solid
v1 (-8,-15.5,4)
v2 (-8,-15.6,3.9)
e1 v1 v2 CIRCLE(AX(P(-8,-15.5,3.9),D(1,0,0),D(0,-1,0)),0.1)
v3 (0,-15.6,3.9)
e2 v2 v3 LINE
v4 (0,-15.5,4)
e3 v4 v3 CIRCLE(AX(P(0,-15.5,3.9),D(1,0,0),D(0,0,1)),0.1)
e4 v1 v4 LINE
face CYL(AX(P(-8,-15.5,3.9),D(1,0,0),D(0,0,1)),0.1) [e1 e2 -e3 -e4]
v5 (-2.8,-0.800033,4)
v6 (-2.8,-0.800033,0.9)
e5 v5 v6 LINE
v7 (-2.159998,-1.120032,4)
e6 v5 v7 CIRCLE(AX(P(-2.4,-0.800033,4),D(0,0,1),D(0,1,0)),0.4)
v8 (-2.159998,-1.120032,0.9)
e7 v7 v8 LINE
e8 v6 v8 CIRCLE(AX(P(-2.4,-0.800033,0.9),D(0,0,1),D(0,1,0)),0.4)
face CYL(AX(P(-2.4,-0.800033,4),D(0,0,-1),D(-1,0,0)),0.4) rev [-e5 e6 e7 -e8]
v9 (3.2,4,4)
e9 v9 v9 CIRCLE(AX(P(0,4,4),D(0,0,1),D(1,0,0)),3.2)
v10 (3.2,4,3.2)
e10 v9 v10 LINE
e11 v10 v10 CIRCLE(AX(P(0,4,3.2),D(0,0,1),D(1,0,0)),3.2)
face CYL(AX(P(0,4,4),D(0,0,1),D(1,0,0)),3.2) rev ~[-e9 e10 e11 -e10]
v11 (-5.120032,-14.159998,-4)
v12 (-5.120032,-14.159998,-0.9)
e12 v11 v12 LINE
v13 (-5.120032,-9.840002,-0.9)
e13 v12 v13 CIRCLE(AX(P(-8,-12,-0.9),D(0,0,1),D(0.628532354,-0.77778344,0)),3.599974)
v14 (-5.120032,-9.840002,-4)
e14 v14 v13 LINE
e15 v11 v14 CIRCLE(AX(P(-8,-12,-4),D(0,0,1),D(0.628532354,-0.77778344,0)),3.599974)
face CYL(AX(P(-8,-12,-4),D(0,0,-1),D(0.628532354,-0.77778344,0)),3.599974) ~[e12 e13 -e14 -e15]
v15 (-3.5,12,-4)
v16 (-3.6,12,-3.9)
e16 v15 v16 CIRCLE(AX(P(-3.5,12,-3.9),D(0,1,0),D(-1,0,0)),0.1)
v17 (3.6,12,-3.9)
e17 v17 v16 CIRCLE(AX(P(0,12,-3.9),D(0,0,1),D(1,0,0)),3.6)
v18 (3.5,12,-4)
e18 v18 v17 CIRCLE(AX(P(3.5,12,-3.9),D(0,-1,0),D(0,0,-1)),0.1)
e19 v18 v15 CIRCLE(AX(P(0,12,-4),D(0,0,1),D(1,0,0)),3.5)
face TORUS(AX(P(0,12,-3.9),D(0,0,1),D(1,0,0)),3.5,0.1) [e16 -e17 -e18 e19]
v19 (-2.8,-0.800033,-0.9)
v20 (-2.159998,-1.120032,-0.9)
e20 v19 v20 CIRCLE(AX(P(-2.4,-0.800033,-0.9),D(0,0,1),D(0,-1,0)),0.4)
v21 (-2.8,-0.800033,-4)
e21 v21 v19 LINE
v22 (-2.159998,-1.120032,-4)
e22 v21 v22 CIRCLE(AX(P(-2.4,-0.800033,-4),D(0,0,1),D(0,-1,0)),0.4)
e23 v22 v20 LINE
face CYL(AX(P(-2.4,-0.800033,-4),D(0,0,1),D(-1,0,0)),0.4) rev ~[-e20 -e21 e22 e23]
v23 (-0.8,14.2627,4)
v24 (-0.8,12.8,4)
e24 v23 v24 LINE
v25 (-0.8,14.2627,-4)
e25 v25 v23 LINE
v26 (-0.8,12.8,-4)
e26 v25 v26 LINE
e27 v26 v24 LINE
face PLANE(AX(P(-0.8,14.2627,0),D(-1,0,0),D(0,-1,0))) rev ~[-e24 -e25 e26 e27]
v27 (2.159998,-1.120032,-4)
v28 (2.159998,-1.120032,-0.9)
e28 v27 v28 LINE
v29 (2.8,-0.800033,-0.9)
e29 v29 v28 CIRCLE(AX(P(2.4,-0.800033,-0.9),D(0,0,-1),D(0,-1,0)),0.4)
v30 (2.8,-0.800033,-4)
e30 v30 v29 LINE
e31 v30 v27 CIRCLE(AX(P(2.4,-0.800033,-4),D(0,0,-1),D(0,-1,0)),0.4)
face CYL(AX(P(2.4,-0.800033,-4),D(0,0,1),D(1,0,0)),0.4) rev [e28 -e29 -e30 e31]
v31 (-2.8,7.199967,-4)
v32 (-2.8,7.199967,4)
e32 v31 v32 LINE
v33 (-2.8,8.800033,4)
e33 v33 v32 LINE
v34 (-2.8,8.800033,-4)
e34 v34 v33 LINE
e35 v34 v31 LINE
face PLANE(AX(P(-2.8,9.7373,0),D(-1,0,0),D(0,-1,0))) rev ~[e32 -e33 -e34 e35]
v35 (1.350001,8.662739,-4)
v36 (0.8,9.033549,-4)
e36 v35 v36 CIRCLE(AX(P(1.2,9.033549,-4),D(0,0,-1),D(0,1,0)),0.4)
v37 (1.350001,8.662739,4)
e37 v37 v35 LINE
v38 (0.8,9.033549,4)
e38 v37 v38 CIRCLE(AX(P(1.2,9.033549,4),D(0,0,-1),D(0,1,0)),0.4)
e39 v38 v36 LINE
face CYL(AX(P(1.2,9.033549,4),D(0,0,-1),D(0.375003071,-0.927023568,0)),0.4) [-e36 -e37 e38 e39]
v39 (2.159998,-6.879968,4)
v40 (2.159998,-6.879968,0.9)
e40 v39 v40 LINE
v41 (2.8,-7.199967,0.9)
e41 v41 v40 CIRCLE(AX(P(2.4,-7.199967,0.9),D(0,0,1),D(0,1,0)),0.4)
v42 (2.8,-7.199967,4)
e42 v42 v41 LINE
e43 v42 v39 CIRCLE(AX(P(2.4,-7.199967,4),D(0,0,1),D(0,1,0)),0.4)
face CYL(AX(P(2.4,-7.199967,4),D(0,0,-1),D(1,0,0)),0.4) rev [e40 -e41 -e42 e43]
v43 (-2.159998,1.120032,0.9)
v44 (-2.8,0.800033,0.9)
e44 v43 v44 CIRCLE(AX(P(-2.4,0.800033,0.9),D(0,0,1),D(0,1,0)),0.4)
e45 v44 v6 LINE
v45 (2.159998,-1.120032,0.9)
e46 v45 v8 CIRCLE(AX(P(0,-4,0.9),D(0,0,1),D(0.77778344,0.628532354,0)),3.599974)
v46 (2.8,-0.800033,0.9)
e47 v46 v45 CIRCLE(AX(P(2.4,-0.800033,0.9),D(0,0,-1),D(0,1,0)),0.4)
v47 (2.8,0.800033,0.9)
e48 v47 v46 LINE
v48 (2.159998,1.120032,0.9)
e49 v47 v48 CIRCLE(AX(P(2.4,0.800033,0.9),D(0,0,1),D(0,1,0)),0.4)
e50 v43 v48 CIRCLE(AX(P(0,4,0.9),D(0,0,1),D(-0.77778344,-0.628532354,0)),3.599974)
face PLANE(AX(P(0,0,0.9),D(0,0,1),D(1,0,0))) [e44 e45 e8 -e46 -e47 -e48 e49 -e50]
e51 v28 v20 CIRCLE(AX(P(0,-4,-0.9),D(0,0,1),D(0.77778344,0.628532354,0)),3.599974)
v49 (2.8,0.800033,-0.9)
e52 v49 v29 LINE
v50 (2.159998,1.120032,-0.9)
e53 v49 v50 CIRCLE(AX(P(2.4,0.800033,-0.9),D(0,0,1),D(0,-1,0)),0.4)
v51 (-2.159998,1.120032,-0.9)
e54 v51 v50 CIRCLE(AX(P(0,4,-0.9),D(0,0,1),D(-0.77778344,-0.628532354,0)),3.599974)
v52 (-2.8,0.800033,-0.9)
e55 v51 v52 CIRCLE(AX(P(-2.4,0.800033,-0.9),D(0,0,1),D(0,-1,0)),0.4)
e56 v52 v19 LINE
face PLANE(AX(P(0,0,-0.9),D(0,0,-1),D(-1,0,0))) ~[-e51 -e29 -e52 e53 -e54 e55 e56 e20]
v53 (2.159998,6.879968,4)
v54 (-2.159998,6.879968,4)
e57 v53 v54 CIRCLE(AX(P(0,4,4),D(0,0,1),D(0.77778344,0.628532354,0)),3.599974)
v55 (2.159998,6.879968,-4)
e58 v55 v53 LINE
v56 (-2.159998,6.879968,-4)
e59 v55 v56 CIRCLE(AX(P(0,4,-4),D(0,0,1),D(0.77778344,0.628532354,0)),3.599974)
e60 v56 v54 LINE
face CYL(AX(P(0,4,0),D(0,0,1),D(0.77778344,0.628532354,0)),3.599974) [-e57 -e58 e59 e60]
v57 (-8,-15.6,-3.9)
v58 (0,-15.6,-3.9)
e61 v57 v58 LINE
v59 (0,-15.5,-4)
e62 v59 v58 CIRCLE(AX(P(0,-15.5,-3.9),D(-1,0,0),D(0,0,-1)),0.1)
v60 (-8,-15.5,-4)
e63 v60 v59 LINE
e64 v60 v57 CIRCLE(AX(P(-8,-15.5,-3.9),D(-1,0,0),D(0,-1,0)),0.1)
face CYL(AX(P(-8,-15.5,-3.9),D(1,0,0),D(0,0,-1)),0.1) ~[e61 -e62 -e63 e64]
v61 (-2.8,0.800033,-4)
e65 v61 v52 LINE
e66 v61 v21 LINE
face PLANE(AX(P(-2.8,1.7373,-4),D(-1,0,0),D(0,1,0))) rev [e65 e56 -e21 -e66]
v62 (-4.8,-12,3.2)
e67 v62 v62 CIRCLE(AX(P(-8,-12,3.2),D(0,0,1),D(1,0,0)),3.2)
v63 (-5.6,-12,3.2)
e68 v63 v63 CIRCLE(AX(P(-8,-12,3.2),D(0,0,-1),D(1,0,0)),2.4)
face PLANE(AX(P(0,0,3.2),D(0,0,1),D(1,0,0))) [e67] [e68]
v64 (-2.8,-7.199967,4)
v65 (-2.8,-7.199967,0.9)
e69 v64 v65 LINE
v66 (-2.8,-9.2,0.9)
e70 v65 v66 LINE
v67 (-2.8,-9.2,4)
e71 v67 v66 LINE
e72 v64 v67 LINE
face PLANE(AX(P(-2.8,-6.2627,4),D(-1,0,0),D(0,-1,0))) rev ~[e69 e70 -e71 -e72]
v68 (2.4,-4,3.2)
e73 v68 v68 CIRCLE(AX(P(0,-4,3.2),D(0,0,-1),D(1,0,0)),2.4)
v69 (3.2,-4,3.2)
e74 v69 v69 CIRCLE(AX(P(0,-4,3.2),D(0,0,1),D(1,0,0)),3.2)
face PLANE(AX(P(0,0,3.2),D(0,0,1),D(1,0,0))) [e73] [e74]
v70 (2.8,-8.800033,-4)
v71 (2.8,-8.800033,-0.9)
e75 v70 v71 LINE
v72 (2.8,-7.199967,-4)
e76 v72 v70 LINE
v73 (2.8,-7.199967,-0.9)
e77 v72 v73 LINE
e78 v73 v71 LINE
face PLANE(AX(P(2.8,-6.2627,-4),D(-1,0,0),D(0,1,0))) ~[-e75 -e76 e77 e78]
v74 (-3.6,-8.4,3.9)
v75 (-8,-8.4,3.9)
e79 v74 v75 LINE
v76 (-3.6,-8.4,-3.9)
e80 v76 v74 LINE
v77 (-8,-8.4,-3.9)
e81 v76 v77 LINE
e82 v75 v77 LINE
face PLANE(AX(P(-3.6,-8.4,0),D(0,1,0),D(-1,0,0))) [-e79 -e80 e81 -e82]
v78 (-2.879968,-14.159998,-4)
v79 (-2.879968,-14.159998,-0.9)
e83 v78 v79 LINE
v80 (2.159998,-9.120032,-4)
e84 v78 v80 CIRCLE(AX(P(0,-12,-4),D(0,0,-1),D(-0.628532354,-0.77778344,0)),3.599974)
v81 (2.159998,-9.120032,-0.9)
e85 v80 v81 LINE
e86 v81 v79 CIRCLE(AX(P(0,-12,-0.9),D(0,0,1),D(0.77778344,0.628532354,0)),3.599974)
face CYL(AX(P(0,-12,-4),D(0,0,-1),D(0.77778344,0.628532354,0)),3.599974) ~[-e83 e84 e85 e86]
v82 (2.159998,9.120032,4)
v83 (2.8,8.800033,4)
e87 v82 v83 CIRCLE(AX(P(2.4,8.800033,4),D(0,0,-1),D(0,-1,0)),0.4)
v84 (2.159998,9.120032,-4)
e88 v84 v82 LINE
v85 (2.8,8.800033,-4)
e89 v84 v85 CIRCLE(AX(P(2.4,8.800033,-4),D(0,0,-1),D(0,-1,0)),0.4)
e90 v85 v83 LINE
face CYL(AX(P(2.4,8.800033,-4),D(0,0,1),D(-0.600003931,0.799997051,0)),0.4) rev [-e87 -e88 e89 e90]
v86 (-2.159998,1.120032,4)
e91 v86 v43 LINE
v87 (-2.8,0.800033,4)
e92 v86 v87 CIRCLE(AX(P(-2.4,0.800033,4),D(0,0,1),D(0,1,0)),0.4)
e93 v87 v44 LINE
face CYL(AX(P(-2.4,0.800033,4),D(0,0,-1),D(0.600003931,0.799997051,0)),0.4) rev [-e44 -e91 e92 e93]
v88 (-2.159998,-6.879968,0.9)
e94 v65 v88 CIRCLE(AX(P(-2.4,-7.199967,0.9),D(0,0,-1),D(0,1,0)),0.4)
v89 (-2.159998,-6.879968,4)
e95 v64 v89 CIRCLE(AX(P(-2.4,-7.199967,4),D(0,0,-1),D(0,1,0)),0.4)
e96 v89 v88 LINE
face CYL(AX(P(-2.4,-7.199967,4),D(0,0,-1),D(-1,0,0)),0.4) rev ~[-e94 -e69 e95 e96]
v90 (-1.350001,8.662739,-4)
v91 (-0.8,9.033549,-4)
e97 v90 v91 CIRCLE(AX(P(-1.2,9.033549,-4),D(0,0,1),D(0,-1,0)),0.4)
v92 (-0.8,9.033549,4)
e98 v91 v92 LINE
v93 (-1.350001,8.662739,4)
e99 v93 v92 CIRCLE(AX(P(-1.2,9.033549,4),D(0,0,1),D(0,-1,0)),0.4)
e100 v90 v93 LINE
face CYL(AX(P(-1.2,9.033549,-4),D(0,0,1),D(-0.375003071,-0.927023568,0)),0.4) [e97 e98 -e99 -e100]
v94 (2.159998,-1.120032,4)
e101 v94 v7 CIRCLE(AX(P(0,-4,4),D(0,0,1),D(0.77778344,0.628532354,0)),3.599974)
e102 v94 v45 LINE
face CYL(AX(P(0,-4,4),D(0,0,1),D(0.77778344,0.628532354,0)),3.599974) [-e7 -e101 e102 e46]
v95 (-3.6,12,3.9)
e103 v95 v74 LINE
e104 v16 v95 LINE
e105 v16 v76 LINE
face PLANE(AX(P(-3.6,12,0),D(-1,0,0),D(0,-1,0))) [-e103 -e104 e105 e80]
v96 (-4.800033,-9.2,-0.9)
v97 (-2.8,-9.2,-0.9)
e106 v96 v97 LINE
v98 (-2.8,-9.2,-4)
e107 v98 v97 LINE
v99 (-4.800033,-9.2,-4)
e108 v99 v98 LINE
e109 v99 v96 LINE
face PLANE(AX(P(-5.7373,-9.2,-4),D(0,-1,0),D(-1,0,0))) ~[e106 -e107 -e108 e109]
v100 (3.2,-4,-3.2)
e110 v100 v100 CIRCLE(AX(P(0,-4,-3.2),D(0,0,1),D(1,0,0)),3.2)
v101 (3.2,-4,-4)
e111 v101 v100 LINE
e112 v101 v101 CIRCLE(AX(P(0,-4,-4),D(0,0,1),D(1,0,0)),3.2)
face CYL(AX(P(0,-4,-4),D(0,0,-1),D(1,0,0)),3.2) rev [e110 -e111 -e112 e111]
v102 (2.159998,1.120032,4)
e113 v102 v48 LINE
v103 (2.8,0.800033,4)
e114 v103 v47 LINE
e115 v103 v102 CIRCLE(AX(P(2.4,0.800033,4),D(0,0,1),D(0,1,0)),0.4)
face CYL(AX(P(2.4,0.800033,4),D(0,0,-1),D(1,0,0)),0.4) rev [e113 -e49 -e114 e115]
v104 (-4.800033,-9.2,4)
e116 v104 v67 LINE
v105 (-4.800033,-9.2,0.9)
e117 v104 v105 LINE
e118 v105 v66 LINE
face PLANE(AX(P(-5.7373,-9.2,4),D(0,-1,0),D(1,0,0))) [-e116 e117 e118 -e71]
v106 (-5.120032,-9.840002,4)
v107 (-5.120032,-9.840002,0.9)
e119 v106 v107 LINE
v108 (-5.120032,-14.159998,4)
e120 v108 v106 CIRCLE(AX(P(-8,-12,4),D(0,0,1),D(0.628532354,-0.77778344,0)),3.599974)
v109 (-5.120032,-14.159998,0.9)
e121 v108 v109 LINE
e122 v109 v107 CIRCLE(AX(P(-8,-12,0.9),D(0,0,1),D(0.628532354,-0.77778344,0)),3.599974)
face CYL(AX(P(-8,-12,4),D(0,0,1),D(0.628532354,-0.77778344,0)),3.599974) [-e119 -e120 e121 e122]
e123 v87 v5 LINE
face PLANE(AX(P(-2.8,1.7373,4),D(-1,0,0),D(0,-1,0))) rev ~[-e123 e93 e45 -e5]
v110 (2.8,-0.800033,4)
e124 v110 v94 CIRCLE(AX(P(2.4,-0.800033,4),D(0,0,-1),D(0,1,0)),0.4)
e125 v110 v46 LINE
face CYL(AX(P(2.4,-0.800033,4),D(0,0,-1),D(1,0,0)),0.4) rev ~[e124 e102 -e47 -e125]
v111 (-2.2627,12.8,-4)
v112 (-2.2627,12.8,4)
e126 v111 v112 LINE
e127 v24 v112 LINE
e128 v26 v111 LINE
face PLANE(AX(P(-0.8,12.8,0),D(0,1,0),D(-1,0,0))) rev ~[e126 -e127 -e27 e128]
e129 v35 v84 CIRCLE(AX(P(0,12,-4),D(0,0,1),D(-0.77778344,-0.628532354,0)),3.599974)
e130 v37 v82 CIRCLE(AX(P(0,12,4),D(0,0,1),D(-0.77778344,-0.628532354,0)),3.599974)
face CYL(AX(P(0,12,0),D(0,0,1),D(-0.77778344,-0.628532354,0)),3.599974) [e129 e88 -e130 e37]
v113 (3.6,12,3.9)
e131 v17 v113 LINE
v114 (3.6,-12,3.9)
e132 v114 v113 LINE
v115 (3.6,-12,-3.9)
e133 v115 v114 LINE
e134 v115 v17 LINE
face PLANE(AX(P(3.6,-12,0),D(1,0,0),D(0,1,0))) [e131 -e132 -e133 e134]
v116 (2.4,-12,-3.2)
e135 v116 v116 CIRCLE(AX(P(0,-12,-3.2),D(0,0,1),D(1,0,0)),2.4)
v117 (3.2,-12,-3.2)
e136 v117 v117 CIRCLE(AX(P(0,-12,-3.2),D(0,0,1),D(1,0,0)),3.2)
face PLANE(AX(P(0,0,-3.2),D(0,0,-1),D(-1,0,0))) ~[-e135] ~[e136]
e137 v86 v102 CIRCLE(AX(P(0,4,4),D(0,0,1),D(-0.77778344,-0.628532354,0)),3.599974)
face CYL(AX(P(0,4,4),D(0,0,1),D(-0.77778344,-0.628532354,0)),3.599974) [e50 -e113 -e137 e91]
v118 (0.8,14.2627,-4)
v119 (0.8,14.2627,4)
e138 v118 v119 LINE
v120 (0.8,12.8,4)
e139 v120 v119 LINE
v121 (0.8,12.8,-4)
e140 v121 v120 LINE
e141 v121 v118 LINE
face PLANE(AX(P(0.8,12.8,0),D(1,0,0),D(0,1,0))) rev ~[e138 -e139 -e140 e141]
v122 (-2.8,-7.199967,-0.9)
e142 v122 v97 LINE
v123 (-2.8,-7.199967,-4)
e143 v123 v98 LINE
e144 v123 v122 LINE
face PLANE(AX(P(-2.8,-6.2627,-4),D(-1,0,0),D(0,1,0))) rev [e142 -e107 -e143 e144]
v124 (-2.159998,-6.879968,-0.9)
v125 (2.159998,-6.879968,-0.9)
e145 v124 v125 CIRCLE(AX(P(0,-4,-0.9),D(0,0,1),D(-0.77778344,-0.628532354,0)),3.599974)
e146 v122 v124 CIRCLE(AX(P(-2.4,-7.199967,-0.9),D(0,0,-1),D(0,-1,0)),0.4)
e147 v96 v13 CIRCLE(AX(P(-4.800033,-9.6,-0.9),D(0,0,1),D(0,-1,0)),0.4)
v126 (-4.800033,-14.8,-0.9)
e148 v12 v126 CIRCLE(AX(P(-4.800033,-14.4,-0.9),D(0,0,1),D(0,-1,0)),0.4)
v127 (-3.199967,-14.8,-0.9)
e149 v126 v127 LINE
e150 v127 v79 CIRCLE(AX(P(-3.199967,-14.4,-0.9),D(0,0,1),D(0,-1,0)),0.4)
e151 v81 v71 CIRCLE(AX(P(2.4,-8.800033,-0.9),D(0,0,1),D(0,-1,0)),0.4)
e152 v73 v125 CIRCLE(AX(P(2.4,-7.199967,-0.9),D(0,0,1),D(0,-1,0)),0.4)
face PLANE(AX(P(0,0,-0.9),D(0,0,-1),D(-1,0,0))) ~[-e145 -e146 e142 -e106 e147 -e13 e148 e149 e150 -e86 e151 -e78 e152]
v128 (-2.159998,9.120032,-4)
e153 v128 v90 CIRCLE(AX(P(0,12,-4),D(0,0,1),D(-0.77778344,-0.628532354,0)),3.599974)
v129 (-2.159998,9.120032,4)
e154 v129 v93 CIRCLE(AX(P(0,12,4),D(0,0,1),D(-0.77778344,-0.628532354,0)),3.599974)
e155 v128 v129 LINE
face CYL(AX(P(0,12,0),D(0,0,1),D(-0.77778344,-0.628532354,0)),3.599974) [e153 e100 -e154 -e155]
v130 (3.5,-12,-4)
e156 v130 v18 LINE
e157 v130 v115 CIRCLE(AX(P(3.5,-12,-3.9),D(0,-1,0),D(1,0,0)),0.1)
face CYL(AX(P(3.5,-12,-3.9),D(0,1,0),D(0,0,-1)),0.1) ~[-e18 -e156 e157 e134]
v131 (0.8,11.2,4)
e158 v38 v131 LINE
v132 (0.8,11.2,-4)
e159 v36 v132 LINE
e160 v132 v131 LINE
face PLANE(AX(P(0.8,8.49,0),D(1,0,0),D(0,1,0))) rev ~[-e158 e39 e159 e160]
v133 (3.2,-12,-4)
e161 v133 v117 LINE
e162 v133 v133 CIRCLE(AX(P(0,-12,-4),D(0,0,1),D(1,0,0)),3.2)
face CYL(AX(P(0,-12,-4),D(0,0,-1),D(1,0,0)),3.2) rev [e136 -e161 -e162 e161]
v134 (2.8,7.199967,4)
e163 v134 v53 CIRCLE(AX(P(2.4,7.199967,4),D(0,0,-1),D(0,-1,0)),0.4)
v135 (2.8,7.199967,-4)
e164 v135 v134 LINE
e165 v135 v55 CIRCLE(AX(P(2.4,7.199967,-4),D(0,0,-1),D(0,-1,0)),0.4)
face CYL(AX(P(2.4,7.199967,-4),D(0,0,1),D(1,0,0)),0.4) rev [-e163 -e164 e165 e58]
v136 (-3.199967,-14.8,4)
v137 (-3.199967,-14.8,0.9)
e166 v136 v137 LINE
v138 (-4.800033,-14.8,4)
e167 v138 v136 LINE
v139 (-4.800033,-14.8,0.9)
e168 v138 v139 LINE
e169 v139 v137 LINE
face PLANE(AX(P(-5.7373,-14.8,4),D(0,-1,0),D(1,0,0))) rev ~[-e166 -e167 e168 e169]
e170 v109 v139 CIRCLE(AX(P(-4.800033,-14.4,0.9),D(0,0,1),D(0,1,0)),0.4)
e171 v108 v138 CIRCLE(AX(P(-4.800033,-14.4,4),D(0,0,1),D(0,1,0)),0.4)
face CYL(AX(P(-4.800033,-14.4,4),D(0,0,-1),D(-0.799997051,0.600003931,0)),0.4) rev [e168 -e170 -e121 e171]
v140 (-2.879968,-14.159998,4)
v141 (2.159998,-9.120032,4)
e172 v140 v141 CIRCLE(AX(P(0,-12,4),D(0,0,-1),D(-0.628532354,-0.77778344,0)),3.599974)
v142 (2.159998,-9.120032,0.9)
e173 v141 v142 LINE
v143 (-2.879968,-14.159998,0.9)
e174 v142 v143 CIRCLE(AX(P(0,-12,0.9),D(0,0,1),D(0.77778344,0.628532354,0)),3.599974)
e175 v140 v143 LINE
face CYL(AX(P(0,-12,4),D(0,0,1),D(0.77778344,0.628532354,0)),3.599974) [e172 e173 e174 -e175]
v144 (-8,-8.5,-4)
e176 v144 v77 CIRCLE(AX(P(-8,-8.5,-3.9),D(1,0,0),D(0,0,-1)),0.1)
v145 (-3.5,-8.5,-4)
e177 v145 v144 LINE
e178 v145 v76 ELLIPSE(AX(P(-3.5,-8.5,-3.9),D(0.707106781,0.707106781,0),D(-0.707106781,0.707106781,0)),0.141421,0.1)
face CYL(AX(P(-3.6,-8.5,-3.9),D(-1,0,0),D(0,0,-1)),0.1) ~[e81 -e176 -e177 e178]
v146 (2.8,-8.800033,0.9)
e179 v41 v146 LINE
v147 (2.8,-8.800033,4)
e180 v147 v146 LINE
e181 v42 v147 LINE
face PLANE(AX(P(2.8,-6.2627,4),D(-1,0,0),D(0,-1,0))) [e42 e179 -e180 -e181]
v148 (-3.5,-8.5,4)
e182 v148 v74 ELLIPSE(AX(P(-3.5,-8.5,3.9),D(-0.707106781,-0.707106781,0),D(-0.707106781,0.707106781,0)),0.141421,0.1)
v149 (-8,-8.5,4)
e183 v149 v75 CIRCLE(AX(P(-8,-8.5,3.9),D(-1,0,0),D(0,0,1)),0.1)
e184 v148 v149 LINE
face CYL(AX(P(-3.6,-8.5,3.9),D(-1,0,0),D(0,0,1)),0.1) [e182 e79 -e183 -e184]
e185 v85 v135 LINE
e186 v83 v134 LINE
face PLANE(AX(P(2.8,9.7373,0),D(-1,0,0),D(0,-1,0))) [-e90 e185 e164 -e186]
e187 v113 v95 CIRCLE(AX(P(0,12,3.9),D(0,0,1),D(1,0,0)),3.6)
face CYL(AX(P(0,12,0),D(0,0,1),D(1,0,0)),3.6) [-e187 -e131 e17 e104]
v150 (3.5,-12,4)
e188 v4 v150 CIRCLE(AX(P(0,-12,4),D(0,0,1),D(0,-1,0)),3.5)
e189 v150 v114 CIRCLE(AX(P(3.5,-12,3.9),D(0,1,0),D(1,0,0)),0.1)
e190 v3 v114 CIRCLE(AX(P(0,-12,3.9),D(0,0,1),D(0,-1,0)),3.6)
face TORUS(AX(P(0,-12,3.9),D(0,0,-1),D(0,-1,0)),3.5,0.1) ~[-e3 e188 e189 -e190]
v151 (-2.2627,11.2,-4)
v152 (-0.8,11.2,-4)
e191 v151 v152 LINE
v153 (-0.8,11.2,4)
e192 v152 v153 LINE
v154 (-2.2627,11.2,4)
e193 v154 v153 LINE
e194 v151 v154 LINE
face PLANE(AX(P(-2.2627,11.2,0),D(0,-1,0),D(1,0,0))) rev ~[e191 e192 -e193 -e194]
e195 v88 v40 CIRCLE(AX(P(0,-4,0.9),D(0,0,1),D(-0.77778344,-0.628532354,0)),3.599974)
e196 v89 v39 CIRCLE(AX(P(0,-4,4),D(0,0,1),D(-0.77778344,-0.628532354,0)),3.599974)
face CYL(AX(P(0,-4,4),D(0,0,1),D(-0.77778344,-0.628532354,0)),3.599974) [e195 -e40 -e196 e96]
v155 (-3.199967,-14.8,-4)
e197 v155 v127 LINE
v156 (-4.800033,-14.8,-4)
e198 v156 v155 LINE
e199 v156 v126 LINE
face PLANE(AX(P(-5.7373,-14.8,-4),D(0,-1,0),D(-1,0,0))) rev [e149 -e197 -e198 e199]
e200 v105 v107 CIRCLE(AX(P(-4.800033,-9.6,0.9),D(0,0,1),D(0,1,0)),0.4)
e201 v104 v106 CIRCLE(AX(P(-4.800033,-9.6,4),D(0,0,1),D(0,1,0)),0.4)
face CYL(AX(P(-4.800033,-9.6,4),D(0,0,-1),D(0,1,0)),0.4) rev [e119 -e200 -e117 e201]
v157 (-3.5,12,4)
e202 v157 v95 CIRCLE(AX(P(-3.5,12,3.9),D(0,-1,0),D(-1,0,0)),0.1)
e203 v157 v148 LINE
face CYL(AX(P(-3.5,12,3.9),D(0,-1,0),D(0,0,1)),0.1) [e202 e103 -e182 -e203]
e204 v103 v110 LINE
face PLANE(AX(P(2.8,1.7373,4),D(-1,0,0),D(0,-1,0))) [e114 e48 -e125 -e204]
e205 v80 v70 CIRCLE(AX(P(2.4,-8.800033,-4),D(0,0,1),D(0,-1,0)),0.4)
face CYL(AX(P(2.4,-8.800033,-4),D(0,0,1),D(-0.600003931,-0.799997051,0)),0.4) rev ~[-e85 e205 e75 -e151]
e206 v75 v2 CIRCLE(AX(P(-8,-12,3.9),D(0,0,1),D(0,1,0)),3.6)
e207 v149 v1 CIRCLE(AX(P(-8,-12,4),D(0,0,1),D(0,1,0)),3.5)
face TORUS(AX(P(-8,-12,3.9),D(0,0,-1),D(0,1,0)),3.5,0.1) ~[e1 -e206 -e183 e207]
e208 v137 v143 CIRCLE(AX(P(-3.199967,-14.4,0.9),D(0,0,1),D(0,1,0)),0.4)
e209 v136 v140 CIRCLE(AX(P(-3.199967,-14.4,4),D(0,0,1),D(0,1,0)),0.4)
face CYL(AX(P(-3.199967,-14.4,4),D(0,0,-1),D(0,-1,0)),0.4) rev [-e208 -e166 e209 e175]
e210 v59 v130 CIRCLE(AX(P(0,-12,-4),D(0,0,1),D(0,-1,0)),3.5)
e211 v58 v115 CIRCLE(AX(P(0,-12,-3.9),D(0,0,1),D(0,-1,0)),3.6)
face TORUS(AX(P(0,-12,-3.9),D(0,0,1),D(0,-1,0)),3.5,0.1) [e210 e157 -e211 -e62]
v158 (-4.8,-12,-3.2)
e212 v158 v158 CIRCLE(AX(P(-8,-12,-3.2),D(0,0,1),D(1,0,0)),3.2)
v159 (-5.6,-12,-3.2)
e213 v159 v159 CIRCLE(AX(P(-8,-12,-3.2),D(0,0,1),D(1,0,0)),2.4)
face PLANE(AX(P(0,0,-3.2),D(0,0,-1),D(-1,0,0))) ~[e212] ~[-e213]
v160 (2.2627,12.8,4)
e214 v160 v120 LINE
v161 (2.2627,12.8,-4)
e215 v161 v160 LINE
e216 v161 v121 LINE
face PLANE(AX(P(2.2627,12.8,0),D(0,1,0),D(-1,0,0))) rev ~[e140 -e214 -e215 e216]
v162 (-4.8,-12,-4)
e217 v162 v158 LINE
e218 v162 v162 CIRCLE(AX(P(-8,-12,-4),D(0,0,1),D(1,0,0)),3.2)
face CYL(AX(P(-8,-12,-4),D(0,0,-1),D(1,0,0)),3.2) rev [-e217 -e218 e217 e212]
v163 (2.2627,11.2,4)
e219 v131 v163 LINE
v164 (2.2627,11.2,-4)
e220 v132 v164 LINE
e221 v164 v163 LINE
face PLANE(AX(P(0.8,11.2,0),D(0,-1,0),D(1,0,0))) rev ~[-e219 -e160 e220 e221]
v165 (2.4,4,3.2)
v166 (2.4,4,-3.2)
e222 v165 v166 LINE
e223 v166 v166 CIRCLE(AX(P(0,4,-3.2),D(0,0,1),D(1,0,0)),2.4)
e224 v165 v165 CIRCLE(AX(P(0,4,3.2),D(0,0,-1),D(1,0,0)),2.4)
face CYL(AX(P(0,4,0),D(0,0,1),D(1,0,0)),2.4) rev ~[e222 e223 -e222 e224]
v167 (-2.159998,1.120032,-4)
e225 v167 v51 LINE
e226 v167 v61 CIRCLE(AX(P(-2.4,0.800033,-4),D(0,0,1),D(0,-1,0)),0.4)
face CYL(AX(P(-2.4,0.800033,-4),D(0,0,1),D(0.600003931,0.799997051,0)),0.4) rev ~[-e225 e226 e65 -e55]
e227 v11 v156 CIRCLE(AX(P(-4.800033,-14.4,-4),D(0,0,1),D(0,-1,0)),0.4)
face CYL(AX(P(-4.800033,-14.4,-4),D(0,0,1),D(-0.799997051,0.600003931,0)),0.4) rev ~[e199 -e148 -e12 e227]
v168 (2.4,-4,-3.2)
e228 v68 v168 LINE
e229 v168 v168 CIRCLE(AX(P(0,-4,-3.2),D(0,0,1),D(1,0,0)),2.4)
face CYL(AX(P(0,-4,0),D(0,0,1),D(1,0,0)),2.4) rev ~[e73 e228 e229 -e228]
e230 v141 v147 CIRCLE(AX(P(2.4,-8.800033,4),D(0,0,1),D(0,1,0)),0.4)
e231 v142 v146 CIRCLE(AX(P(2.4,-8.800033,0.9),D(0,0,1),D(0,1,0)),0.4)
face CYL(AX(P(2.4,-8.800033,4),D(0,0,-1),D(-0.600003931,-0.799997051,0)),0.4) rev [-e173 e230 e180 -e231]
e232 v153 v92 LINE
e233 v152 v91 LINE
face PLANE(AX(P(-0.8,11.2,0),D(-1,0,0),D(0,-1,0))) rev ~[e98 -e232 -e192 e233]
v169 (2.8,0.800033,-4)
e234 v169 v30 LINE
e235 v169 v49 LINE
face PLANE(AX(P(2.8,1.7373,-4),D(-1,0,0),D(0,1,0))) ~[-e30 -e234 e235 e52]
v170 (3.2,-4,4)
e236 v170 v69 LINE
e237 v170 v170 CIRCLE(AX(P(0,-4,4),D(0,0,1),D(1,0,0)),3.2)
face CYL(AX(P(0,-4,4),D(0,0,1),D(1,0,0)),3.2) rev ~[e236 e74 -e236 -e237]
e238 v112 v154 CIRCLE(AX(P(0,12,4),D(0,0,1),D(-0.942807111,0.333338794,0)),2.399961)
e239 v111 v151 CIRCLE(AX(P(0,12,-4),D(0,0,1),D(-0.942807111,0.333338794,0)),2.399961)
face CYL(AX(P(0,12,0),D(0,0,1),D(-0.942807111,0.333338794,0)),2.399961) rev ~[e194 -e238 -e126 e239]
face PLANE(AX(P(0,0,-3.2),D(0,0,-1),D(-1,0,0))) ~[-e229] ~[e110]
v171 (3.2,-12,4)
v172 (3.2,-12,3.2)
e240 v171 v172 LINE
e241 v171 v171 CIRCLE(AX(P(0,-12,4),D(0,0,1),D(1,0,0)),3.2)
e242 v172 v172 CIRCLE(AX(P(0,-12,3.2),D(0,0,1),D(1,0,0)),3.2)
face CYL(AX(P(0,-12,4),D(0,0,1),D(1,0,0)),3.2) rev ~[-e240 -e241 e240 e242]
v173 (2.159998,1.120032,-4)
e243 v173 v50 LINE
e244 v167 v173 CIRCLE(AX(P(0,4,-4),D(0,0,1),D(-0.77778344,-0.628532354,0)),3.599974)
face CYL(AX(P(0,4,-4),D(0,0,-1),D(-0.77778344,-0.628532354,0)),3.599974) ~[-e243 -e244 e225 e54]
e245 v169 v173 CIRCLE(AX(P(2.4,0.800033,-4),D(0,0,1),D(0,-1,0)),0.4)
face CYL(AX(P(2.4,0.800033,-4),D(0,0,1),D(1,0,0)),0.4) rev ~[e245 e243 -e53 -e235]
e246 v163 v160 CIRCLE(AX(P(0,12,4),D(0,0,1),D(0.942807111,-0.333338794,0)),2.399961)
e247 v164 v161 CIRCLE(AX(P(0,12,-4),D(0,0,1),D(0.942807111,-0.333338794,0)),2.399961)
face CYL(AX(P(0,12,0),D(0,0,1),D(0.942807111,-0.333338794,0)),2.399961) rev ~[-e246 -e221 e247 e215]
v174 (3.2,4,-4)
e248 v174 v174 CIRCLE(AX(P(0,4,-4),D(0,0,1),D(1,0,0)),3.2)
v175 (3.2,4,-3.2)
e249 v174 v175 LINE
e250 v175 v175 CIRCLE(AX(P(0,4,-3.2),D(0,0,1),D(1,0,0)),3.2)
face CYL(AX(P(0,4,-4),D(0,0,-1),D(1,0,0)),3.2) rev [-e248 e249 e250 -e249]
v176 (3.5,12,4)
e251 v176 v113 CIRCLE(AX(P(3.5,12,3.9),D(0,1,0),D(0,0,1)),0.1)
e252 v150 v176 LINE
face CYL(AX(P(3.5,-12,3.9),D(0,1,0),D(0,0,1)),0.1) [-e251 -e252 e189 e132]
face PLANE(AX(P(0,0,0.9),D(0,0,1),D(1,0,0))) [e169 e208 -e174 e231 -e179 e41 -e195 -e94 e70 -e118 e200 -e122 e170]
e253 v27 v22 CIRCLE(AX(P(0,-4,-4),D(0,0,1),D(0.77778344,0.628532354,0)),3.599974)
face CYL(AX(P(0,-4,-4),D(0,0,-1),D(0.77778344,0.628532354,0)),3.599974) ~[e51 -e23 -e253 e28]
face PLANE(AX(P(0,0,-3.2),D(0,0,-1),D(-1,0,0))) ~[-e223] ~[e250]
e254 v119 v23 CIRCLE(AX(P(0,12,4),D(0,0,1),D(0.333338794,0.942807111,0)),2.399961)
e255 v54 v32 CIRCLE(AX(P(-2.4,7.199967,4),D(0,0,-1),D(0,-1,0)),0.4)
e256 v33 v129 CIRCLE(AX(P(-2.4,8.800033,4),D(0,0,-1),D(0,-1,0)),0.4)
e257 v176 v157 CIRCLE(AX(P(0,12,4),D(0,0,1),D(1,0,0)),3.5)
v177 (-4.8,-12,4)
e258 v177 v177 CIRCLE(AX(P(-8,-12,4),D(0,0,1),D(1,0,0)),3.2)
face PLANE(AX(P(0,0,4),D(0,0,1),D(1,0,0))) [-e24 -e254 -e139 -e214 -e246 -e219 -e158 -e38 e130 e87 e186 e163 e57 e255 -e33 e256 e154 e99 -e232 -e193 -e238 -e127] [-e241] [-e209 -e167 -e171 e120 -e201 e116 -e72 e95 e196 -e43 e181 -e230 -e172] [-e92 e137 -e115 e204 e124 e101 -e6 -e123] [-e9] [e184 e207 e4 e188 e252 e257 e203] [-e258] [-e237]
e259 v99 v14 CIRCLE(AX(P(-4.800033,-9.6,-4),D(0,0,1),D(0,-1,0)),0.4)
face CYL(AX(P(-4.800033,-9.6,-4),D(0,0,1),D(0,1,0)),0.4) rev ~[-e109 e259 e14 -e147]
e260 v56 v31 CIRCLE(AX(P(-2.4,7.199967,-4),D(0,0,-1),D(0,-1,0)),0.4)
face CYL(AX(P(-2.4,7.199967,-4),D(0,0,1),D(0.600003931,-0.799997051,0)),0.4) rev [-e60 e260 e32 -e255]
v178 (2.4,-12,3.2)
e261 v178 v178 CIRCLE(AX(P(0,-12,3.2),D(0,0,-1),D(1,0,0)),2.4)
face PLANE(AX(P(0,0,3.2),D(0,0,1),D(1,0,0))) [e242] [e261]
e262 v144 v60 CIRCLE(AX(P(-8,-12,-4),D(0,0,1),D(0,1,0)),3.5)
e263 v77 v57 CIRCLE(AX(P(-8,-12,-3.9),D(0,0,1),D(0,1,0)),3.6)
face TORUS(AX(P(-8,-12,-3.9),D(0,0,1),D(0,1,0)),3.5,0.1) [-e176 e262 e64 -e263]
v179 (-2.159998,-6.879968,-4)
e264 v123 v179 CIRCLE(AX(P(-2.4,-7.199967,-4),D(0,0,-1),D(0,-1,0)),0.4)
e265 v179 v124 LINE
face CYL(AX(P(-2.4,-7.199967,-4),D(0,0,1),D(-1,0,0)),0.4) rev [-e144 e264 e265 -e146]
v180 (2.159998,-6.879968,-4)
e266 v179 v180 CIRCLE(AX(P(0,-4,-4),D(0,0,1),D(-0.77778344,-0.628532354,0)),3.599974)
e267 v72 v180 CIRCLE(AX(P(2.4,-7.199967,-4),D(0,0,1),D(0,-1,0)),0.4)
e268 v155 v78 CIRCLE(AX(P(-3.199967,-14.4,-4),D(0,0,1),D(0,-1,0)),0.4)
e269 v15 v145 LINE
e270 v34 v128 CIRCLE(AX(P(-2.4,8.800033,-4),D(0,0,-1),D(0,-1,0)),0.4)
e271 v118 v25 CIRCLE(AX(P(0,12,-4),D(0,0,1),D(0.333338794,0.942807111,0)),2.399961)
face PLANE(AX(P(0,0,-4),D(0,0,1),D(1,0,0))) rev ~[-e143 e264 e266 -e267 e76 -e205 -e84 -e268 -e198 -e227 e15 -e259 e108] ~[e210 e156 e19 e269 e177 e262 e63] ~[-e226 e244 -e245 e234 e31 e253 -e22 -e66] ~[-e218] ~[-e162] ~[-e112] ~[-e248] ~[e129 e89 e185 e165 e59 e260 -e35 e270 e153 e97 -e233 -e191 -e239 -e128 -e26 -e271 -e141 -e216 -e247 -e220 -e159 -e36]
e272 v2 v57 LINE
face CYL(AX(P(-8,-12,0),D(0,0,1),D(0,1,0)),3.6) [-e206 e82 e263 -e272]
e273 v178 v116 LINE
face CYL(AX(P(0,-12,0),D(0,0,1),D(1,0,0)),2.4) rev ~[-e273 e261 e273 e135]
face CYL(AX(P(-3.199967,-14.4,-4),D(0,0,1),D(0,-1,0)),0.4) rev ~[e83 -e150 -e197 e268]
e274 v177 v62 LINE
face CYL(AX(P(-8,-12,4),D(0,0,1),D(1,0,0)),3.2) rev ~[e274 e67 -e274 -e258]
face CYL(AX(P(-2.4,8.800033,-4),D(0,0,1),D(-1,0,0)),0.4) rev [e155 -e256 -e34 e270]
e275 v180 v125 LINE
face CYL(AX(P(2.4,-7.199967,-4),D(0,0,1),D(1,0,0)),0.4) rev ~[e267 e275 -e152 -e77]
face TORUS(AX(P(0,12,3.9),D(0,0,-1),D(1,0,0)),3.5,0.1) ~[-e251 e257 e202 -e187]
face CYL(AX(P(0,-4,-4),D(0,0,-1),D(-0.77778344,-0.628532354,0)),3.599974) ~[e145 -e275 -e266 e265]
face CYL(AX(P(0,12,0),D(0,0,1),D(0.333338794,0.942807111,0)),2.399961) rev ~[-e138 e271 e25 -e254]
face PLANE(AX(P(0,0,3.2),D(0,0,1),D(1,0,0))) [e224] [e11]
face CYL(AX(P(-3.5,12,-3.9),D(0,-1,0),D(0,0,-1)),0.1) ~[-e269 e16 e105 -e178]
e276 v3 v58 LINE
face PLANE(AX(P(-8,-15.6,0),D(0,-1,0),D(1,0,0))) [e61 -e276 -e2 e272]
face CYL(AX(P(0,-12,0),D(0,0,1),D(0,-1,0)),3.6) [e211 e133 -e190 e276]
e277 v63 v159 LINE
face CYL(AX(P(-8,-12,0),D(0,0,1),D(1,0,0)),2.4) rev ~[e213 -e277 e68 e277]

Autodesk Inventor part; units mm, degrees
ref_plane "YZ Plane" through (0, 0, 0) normal (1, 0, 0) x (0, 1, 0)
ref_plane "XZ Plane" through (0, 0, 0) normal (0, 1, 0) x (-1, 0, 0)
ref_plane "XY Plane" through (0, 0, 0) normal (0, 0, 1) x (1, 0, 0)
sketch "Sketch1" plane through (0, 0, 0) normal (0, 0, 1) x (1, 0, 0)
  line L0 (3.6, -12) -> (3.6, 12)
  line L1 (-3.6, 12) -> (-3.6, -8.4)
  arc A0 (3.6, 12) -> (-3.6, 12) centre (0, 12) ccw
  circle A1 centre (0, 4) radius 2.4
  circle A2 centre (0, 4) radius 3.2
  circle A3 centre (0, -4) radius 3.2
  circle A4 centre (0, -4) radius 2.4
  line L2 (0, -4) -> (0, 4) construction
  line L3 (-2.8, 1.7373) -> (-2.8, -1.7373)
  line L4 (2.8, 1.7373) -> (2.8, -1.7373)
  arc A5 (-2.8, 1.7373) -> (2.8, 1.7373) centre (0, 4) ccw
  arc A6 (2.8, -1.7373) -> (-2.8, -1.7373) centre (0, -4) ccw
  circle A7 centre (0, -12) radius 3.2
  circle A8 centre (0, -12) radius 2.4
  line L5 (0, -4) -> (0, -12) construction
  line L6 (-2.8, -6.2627) -> (-2.8, -9.7373)
  line L7 (2.8, -6.2627) -> (2.8, -9.7373)
  arc A9 (-2.8, -6.2627) -> (2.8, -6.2627) centre (0, -4) ccw
  arc A10 (2.8, -9.7373) -> (-2.8, -9.7373) centre (0, -12) ccw
  circle A11 centre (0, 12) radius 2.4 construction
  line L8 (0, 12) -> (0, 4) construction
  line L9 (2.8, 9.7373) -> (2.8, 6.2627)
  line L10 (-2.8, 9.7373) -> (-2.8, 6.2627)
  arc A12 (-2.8, 9.7373) -> (2.8, 9.7373) centre (0, 12) ccw
  arc A13 (2.8, 6.2627) -> (-2.8, 6.2627) centre (0, 4) ccw
  line L11 (-3.6, -8.4) -> (-8, -8.4)
  arc A14 (-8, -8.4) -> (-8, -15.6) centre (-8, -12) ccw
  line L12 (-8, -15.6) -> (0, -15.6)
  arc A15 (0, -15.6) -> (3.6, -12) centre (0, -12) ccw
  circle A16 centre (-8, -12) radius 3.2
  circle A17 centre (-8, -12) radius 2.4
  line L13 (-8, -12) -> (0, -12) construction
  line L14 (-0.8, 14.2627) -> (-0.8, 12.8)
  line L15 (-0.8, 12.8) -> (-2.2627, 12.8)
  line L16 (-2.2627, 11.2) -> (-0.8, 11.2)
  line L17 (-0.8, 11.2) -> (-0.8, 8.49)
  line L18 (0.8, 8.49) -> (0.8, 11.2)
  line L19 (0.8, 11.2) -> (2.2627, 11.2)
  line L20 (2.2627, 12.8) -> (0.8, 12.8)
  line L21 (0.8, 12.8) -> (0.8, 14.2627)
  arc A18 (0.8, 14.2627) -> (-0.8, 14.2627) centre (0, 12) ccw
  arc A19 (-2.2627, 12.8) -> (-2.2627, 11.2) centre (0, 12) ccw
  arc A20 (2.2627, 11.2) -> (2.2627, 12.8) centre (0, 12) ccw
  line L22 (-5.7373, -9.2) -> (-2.2627, -9.2)
  line L23 (-5.7373, -14.8) -> (-2.2627, -14.8)
  arc A21 (-5.7373, -14.8) -> (-5.7373, -9.2) centre (-8, -12) ccw
  arc A22 (-2.2627, -9.2) -> (-2.2627, -14.8) centre (0, -12) ccw
  point P0 (0, 0)
  point P1 (0, 0)
  dimension "d8" = 4.8
  dimension "d9" = 6.4
  dimension "d32" = 7.2
  dimension "d34" = 8
  dimension "d36" = 0.8
  dimension "d48" = 1.6
  dimension "d49" = 0.8
extrude "Extrusion1" add sketch "Sketch1" along normal mid plane 8 contours A15 L12 A14 L11 L1 A0 L0 | A2 | A3 | A5 L4 A6 L3 | A7 | A9 L7 A10 L22 L6 | L22 A10 L6 | L6 A22 L23 A21 L22 | A16
sketch "Sketch6" plane through (0, 0, 4) normal (0, 0, 1) x (1, 0, 0)
  circle A0 centre (0, -4) radius 3.2 projected
  circle A1 centre (0, 4) radius 3.2 projected
  arc A2 (2.8, -1.7373) -> (-2.8, -1.7373) centre (0, -4) ccw projected
  line L0 (-2.8, 1.7373) -> (-2.8, -1.7373) projected
  arc A3 (-2.8, 1.7373) -> (2.8, 1.7373) centre (0, 4) ccw projected
  line L1 (2.8, 1.7373) -> (2.8, -1.7373) projected
  line L2 (-2.8, -6.2627) -> (-2.8, -9.7373) projected
  arc A4 (-2.8, -6.2627) -> (2.8, -6.2627) centre (0, -4) ccw projected
  arc A5 (2.8, -9.7373) -> (-2.8, -9.7373) centre (0, -12) ccw projected
  line L3 (2.8, -6.2627) -> (2.8, -9.7373) projected
  circle A6 centre (0, -12) radius 3.2 projected
  circle A7 centre (0, -12) radius 2.4 projected
  line L4 (2.8, 9.7373) -> (2.8, 6.2627) projected
  arc A8 (-2.8, 9.7373) -> (2.8, 9.7373) centre (0, 12) ccw projected
  arc A9 (2.8, 6.2627) -> (-2.8, 6.2627) centre (0, 4) ccw projected
  line L5 (-2.8, 9.7373) -> (-2.8, 6.2627) projected
  line L6 (-5.7373, -9.2) -> (-2.2627, -9.2) projected
  arc A10 (-5.7373, -14.8) -> (-5.7373, -9.2) centre (-8, -12) ccw projected
  arc A11 (-2.2627, -9.2) -> (-2.2627, -14.8) centre (0, -12) ccw projected
  line L7 (-5.7373, -14.8) -> (-2.2627, -14.8) projected
  circle A12 centre (-8, -12) radius 3.2 projected
extrude "Extrusion7" cut sketch "Sketch6" against normal blind 0.8 contours A0 | A1 | A6 | A7 | A12
extrude "Extrusion8" cut sketch "Sketch6" against normal blind 3.1 contours A2 L0 A3 L1 | A4 L3 A5 L6 L2 | L6 A5 L2 | L2 A11 L7 A10 L6 | L4 A9 L5 A8
mirror "Mirror1" about plane through (0, 0, 0) normal (0, 0, 1) of "Extrusion7", "Extrusion8"
fillet "Fillet1" radius 0.4 26 edges at (-2.8, -1.7373, 2.45) (-2.8, 1.7373, 2.45) (2.8, -1.7373, 2.45) (2.8, 1.7373, 2.45) (2.8, 1.7373, -2.45) (2.8, -1.7373, -2.45) (-2.8, -1.7373, -2.45) (-2.8, 1.7373, -2.45) (-2.8, -6.2627, 2.45) (2.8, -9.7373, 2.45) (2.8, -6.2627, 2.45) (2.8, -6.2627, -2.45) (2.8, -9.7373, -2.45) (-2.8, -6.2627, -2.45) (-2.8, 6.2627, 0) (-2.8, 9.7373, 0) (-0.8, 8.49, 0) (0.8, 8.49, 0) (2.8, 9.7373, 0) (2.8, 6.2627, 0) (-5.7373, -9.2, 2.45) (-5.7373, -14.8, 2.45) (-2.2627, -14.8, 2.45) (-5.7373, -14.8, -2.45) (-2.2627, -14.8, -2.45) (-5.7373, -9.2, -2.45)
fillet "Fillet1" radius 0.1 6 edges at (-3.6, 1.8, 4) (0, 15.6, 4) (3.6, 0, 4) (0, 15.6, -4) (-3.6, 1.8, -4) (3.6, 0, -4)
equation "\"lf\" = 0.1"
equation "\"tf\" = 0.4"
properties part number "32140-LtBluishGray" material "ABS Plastic"
